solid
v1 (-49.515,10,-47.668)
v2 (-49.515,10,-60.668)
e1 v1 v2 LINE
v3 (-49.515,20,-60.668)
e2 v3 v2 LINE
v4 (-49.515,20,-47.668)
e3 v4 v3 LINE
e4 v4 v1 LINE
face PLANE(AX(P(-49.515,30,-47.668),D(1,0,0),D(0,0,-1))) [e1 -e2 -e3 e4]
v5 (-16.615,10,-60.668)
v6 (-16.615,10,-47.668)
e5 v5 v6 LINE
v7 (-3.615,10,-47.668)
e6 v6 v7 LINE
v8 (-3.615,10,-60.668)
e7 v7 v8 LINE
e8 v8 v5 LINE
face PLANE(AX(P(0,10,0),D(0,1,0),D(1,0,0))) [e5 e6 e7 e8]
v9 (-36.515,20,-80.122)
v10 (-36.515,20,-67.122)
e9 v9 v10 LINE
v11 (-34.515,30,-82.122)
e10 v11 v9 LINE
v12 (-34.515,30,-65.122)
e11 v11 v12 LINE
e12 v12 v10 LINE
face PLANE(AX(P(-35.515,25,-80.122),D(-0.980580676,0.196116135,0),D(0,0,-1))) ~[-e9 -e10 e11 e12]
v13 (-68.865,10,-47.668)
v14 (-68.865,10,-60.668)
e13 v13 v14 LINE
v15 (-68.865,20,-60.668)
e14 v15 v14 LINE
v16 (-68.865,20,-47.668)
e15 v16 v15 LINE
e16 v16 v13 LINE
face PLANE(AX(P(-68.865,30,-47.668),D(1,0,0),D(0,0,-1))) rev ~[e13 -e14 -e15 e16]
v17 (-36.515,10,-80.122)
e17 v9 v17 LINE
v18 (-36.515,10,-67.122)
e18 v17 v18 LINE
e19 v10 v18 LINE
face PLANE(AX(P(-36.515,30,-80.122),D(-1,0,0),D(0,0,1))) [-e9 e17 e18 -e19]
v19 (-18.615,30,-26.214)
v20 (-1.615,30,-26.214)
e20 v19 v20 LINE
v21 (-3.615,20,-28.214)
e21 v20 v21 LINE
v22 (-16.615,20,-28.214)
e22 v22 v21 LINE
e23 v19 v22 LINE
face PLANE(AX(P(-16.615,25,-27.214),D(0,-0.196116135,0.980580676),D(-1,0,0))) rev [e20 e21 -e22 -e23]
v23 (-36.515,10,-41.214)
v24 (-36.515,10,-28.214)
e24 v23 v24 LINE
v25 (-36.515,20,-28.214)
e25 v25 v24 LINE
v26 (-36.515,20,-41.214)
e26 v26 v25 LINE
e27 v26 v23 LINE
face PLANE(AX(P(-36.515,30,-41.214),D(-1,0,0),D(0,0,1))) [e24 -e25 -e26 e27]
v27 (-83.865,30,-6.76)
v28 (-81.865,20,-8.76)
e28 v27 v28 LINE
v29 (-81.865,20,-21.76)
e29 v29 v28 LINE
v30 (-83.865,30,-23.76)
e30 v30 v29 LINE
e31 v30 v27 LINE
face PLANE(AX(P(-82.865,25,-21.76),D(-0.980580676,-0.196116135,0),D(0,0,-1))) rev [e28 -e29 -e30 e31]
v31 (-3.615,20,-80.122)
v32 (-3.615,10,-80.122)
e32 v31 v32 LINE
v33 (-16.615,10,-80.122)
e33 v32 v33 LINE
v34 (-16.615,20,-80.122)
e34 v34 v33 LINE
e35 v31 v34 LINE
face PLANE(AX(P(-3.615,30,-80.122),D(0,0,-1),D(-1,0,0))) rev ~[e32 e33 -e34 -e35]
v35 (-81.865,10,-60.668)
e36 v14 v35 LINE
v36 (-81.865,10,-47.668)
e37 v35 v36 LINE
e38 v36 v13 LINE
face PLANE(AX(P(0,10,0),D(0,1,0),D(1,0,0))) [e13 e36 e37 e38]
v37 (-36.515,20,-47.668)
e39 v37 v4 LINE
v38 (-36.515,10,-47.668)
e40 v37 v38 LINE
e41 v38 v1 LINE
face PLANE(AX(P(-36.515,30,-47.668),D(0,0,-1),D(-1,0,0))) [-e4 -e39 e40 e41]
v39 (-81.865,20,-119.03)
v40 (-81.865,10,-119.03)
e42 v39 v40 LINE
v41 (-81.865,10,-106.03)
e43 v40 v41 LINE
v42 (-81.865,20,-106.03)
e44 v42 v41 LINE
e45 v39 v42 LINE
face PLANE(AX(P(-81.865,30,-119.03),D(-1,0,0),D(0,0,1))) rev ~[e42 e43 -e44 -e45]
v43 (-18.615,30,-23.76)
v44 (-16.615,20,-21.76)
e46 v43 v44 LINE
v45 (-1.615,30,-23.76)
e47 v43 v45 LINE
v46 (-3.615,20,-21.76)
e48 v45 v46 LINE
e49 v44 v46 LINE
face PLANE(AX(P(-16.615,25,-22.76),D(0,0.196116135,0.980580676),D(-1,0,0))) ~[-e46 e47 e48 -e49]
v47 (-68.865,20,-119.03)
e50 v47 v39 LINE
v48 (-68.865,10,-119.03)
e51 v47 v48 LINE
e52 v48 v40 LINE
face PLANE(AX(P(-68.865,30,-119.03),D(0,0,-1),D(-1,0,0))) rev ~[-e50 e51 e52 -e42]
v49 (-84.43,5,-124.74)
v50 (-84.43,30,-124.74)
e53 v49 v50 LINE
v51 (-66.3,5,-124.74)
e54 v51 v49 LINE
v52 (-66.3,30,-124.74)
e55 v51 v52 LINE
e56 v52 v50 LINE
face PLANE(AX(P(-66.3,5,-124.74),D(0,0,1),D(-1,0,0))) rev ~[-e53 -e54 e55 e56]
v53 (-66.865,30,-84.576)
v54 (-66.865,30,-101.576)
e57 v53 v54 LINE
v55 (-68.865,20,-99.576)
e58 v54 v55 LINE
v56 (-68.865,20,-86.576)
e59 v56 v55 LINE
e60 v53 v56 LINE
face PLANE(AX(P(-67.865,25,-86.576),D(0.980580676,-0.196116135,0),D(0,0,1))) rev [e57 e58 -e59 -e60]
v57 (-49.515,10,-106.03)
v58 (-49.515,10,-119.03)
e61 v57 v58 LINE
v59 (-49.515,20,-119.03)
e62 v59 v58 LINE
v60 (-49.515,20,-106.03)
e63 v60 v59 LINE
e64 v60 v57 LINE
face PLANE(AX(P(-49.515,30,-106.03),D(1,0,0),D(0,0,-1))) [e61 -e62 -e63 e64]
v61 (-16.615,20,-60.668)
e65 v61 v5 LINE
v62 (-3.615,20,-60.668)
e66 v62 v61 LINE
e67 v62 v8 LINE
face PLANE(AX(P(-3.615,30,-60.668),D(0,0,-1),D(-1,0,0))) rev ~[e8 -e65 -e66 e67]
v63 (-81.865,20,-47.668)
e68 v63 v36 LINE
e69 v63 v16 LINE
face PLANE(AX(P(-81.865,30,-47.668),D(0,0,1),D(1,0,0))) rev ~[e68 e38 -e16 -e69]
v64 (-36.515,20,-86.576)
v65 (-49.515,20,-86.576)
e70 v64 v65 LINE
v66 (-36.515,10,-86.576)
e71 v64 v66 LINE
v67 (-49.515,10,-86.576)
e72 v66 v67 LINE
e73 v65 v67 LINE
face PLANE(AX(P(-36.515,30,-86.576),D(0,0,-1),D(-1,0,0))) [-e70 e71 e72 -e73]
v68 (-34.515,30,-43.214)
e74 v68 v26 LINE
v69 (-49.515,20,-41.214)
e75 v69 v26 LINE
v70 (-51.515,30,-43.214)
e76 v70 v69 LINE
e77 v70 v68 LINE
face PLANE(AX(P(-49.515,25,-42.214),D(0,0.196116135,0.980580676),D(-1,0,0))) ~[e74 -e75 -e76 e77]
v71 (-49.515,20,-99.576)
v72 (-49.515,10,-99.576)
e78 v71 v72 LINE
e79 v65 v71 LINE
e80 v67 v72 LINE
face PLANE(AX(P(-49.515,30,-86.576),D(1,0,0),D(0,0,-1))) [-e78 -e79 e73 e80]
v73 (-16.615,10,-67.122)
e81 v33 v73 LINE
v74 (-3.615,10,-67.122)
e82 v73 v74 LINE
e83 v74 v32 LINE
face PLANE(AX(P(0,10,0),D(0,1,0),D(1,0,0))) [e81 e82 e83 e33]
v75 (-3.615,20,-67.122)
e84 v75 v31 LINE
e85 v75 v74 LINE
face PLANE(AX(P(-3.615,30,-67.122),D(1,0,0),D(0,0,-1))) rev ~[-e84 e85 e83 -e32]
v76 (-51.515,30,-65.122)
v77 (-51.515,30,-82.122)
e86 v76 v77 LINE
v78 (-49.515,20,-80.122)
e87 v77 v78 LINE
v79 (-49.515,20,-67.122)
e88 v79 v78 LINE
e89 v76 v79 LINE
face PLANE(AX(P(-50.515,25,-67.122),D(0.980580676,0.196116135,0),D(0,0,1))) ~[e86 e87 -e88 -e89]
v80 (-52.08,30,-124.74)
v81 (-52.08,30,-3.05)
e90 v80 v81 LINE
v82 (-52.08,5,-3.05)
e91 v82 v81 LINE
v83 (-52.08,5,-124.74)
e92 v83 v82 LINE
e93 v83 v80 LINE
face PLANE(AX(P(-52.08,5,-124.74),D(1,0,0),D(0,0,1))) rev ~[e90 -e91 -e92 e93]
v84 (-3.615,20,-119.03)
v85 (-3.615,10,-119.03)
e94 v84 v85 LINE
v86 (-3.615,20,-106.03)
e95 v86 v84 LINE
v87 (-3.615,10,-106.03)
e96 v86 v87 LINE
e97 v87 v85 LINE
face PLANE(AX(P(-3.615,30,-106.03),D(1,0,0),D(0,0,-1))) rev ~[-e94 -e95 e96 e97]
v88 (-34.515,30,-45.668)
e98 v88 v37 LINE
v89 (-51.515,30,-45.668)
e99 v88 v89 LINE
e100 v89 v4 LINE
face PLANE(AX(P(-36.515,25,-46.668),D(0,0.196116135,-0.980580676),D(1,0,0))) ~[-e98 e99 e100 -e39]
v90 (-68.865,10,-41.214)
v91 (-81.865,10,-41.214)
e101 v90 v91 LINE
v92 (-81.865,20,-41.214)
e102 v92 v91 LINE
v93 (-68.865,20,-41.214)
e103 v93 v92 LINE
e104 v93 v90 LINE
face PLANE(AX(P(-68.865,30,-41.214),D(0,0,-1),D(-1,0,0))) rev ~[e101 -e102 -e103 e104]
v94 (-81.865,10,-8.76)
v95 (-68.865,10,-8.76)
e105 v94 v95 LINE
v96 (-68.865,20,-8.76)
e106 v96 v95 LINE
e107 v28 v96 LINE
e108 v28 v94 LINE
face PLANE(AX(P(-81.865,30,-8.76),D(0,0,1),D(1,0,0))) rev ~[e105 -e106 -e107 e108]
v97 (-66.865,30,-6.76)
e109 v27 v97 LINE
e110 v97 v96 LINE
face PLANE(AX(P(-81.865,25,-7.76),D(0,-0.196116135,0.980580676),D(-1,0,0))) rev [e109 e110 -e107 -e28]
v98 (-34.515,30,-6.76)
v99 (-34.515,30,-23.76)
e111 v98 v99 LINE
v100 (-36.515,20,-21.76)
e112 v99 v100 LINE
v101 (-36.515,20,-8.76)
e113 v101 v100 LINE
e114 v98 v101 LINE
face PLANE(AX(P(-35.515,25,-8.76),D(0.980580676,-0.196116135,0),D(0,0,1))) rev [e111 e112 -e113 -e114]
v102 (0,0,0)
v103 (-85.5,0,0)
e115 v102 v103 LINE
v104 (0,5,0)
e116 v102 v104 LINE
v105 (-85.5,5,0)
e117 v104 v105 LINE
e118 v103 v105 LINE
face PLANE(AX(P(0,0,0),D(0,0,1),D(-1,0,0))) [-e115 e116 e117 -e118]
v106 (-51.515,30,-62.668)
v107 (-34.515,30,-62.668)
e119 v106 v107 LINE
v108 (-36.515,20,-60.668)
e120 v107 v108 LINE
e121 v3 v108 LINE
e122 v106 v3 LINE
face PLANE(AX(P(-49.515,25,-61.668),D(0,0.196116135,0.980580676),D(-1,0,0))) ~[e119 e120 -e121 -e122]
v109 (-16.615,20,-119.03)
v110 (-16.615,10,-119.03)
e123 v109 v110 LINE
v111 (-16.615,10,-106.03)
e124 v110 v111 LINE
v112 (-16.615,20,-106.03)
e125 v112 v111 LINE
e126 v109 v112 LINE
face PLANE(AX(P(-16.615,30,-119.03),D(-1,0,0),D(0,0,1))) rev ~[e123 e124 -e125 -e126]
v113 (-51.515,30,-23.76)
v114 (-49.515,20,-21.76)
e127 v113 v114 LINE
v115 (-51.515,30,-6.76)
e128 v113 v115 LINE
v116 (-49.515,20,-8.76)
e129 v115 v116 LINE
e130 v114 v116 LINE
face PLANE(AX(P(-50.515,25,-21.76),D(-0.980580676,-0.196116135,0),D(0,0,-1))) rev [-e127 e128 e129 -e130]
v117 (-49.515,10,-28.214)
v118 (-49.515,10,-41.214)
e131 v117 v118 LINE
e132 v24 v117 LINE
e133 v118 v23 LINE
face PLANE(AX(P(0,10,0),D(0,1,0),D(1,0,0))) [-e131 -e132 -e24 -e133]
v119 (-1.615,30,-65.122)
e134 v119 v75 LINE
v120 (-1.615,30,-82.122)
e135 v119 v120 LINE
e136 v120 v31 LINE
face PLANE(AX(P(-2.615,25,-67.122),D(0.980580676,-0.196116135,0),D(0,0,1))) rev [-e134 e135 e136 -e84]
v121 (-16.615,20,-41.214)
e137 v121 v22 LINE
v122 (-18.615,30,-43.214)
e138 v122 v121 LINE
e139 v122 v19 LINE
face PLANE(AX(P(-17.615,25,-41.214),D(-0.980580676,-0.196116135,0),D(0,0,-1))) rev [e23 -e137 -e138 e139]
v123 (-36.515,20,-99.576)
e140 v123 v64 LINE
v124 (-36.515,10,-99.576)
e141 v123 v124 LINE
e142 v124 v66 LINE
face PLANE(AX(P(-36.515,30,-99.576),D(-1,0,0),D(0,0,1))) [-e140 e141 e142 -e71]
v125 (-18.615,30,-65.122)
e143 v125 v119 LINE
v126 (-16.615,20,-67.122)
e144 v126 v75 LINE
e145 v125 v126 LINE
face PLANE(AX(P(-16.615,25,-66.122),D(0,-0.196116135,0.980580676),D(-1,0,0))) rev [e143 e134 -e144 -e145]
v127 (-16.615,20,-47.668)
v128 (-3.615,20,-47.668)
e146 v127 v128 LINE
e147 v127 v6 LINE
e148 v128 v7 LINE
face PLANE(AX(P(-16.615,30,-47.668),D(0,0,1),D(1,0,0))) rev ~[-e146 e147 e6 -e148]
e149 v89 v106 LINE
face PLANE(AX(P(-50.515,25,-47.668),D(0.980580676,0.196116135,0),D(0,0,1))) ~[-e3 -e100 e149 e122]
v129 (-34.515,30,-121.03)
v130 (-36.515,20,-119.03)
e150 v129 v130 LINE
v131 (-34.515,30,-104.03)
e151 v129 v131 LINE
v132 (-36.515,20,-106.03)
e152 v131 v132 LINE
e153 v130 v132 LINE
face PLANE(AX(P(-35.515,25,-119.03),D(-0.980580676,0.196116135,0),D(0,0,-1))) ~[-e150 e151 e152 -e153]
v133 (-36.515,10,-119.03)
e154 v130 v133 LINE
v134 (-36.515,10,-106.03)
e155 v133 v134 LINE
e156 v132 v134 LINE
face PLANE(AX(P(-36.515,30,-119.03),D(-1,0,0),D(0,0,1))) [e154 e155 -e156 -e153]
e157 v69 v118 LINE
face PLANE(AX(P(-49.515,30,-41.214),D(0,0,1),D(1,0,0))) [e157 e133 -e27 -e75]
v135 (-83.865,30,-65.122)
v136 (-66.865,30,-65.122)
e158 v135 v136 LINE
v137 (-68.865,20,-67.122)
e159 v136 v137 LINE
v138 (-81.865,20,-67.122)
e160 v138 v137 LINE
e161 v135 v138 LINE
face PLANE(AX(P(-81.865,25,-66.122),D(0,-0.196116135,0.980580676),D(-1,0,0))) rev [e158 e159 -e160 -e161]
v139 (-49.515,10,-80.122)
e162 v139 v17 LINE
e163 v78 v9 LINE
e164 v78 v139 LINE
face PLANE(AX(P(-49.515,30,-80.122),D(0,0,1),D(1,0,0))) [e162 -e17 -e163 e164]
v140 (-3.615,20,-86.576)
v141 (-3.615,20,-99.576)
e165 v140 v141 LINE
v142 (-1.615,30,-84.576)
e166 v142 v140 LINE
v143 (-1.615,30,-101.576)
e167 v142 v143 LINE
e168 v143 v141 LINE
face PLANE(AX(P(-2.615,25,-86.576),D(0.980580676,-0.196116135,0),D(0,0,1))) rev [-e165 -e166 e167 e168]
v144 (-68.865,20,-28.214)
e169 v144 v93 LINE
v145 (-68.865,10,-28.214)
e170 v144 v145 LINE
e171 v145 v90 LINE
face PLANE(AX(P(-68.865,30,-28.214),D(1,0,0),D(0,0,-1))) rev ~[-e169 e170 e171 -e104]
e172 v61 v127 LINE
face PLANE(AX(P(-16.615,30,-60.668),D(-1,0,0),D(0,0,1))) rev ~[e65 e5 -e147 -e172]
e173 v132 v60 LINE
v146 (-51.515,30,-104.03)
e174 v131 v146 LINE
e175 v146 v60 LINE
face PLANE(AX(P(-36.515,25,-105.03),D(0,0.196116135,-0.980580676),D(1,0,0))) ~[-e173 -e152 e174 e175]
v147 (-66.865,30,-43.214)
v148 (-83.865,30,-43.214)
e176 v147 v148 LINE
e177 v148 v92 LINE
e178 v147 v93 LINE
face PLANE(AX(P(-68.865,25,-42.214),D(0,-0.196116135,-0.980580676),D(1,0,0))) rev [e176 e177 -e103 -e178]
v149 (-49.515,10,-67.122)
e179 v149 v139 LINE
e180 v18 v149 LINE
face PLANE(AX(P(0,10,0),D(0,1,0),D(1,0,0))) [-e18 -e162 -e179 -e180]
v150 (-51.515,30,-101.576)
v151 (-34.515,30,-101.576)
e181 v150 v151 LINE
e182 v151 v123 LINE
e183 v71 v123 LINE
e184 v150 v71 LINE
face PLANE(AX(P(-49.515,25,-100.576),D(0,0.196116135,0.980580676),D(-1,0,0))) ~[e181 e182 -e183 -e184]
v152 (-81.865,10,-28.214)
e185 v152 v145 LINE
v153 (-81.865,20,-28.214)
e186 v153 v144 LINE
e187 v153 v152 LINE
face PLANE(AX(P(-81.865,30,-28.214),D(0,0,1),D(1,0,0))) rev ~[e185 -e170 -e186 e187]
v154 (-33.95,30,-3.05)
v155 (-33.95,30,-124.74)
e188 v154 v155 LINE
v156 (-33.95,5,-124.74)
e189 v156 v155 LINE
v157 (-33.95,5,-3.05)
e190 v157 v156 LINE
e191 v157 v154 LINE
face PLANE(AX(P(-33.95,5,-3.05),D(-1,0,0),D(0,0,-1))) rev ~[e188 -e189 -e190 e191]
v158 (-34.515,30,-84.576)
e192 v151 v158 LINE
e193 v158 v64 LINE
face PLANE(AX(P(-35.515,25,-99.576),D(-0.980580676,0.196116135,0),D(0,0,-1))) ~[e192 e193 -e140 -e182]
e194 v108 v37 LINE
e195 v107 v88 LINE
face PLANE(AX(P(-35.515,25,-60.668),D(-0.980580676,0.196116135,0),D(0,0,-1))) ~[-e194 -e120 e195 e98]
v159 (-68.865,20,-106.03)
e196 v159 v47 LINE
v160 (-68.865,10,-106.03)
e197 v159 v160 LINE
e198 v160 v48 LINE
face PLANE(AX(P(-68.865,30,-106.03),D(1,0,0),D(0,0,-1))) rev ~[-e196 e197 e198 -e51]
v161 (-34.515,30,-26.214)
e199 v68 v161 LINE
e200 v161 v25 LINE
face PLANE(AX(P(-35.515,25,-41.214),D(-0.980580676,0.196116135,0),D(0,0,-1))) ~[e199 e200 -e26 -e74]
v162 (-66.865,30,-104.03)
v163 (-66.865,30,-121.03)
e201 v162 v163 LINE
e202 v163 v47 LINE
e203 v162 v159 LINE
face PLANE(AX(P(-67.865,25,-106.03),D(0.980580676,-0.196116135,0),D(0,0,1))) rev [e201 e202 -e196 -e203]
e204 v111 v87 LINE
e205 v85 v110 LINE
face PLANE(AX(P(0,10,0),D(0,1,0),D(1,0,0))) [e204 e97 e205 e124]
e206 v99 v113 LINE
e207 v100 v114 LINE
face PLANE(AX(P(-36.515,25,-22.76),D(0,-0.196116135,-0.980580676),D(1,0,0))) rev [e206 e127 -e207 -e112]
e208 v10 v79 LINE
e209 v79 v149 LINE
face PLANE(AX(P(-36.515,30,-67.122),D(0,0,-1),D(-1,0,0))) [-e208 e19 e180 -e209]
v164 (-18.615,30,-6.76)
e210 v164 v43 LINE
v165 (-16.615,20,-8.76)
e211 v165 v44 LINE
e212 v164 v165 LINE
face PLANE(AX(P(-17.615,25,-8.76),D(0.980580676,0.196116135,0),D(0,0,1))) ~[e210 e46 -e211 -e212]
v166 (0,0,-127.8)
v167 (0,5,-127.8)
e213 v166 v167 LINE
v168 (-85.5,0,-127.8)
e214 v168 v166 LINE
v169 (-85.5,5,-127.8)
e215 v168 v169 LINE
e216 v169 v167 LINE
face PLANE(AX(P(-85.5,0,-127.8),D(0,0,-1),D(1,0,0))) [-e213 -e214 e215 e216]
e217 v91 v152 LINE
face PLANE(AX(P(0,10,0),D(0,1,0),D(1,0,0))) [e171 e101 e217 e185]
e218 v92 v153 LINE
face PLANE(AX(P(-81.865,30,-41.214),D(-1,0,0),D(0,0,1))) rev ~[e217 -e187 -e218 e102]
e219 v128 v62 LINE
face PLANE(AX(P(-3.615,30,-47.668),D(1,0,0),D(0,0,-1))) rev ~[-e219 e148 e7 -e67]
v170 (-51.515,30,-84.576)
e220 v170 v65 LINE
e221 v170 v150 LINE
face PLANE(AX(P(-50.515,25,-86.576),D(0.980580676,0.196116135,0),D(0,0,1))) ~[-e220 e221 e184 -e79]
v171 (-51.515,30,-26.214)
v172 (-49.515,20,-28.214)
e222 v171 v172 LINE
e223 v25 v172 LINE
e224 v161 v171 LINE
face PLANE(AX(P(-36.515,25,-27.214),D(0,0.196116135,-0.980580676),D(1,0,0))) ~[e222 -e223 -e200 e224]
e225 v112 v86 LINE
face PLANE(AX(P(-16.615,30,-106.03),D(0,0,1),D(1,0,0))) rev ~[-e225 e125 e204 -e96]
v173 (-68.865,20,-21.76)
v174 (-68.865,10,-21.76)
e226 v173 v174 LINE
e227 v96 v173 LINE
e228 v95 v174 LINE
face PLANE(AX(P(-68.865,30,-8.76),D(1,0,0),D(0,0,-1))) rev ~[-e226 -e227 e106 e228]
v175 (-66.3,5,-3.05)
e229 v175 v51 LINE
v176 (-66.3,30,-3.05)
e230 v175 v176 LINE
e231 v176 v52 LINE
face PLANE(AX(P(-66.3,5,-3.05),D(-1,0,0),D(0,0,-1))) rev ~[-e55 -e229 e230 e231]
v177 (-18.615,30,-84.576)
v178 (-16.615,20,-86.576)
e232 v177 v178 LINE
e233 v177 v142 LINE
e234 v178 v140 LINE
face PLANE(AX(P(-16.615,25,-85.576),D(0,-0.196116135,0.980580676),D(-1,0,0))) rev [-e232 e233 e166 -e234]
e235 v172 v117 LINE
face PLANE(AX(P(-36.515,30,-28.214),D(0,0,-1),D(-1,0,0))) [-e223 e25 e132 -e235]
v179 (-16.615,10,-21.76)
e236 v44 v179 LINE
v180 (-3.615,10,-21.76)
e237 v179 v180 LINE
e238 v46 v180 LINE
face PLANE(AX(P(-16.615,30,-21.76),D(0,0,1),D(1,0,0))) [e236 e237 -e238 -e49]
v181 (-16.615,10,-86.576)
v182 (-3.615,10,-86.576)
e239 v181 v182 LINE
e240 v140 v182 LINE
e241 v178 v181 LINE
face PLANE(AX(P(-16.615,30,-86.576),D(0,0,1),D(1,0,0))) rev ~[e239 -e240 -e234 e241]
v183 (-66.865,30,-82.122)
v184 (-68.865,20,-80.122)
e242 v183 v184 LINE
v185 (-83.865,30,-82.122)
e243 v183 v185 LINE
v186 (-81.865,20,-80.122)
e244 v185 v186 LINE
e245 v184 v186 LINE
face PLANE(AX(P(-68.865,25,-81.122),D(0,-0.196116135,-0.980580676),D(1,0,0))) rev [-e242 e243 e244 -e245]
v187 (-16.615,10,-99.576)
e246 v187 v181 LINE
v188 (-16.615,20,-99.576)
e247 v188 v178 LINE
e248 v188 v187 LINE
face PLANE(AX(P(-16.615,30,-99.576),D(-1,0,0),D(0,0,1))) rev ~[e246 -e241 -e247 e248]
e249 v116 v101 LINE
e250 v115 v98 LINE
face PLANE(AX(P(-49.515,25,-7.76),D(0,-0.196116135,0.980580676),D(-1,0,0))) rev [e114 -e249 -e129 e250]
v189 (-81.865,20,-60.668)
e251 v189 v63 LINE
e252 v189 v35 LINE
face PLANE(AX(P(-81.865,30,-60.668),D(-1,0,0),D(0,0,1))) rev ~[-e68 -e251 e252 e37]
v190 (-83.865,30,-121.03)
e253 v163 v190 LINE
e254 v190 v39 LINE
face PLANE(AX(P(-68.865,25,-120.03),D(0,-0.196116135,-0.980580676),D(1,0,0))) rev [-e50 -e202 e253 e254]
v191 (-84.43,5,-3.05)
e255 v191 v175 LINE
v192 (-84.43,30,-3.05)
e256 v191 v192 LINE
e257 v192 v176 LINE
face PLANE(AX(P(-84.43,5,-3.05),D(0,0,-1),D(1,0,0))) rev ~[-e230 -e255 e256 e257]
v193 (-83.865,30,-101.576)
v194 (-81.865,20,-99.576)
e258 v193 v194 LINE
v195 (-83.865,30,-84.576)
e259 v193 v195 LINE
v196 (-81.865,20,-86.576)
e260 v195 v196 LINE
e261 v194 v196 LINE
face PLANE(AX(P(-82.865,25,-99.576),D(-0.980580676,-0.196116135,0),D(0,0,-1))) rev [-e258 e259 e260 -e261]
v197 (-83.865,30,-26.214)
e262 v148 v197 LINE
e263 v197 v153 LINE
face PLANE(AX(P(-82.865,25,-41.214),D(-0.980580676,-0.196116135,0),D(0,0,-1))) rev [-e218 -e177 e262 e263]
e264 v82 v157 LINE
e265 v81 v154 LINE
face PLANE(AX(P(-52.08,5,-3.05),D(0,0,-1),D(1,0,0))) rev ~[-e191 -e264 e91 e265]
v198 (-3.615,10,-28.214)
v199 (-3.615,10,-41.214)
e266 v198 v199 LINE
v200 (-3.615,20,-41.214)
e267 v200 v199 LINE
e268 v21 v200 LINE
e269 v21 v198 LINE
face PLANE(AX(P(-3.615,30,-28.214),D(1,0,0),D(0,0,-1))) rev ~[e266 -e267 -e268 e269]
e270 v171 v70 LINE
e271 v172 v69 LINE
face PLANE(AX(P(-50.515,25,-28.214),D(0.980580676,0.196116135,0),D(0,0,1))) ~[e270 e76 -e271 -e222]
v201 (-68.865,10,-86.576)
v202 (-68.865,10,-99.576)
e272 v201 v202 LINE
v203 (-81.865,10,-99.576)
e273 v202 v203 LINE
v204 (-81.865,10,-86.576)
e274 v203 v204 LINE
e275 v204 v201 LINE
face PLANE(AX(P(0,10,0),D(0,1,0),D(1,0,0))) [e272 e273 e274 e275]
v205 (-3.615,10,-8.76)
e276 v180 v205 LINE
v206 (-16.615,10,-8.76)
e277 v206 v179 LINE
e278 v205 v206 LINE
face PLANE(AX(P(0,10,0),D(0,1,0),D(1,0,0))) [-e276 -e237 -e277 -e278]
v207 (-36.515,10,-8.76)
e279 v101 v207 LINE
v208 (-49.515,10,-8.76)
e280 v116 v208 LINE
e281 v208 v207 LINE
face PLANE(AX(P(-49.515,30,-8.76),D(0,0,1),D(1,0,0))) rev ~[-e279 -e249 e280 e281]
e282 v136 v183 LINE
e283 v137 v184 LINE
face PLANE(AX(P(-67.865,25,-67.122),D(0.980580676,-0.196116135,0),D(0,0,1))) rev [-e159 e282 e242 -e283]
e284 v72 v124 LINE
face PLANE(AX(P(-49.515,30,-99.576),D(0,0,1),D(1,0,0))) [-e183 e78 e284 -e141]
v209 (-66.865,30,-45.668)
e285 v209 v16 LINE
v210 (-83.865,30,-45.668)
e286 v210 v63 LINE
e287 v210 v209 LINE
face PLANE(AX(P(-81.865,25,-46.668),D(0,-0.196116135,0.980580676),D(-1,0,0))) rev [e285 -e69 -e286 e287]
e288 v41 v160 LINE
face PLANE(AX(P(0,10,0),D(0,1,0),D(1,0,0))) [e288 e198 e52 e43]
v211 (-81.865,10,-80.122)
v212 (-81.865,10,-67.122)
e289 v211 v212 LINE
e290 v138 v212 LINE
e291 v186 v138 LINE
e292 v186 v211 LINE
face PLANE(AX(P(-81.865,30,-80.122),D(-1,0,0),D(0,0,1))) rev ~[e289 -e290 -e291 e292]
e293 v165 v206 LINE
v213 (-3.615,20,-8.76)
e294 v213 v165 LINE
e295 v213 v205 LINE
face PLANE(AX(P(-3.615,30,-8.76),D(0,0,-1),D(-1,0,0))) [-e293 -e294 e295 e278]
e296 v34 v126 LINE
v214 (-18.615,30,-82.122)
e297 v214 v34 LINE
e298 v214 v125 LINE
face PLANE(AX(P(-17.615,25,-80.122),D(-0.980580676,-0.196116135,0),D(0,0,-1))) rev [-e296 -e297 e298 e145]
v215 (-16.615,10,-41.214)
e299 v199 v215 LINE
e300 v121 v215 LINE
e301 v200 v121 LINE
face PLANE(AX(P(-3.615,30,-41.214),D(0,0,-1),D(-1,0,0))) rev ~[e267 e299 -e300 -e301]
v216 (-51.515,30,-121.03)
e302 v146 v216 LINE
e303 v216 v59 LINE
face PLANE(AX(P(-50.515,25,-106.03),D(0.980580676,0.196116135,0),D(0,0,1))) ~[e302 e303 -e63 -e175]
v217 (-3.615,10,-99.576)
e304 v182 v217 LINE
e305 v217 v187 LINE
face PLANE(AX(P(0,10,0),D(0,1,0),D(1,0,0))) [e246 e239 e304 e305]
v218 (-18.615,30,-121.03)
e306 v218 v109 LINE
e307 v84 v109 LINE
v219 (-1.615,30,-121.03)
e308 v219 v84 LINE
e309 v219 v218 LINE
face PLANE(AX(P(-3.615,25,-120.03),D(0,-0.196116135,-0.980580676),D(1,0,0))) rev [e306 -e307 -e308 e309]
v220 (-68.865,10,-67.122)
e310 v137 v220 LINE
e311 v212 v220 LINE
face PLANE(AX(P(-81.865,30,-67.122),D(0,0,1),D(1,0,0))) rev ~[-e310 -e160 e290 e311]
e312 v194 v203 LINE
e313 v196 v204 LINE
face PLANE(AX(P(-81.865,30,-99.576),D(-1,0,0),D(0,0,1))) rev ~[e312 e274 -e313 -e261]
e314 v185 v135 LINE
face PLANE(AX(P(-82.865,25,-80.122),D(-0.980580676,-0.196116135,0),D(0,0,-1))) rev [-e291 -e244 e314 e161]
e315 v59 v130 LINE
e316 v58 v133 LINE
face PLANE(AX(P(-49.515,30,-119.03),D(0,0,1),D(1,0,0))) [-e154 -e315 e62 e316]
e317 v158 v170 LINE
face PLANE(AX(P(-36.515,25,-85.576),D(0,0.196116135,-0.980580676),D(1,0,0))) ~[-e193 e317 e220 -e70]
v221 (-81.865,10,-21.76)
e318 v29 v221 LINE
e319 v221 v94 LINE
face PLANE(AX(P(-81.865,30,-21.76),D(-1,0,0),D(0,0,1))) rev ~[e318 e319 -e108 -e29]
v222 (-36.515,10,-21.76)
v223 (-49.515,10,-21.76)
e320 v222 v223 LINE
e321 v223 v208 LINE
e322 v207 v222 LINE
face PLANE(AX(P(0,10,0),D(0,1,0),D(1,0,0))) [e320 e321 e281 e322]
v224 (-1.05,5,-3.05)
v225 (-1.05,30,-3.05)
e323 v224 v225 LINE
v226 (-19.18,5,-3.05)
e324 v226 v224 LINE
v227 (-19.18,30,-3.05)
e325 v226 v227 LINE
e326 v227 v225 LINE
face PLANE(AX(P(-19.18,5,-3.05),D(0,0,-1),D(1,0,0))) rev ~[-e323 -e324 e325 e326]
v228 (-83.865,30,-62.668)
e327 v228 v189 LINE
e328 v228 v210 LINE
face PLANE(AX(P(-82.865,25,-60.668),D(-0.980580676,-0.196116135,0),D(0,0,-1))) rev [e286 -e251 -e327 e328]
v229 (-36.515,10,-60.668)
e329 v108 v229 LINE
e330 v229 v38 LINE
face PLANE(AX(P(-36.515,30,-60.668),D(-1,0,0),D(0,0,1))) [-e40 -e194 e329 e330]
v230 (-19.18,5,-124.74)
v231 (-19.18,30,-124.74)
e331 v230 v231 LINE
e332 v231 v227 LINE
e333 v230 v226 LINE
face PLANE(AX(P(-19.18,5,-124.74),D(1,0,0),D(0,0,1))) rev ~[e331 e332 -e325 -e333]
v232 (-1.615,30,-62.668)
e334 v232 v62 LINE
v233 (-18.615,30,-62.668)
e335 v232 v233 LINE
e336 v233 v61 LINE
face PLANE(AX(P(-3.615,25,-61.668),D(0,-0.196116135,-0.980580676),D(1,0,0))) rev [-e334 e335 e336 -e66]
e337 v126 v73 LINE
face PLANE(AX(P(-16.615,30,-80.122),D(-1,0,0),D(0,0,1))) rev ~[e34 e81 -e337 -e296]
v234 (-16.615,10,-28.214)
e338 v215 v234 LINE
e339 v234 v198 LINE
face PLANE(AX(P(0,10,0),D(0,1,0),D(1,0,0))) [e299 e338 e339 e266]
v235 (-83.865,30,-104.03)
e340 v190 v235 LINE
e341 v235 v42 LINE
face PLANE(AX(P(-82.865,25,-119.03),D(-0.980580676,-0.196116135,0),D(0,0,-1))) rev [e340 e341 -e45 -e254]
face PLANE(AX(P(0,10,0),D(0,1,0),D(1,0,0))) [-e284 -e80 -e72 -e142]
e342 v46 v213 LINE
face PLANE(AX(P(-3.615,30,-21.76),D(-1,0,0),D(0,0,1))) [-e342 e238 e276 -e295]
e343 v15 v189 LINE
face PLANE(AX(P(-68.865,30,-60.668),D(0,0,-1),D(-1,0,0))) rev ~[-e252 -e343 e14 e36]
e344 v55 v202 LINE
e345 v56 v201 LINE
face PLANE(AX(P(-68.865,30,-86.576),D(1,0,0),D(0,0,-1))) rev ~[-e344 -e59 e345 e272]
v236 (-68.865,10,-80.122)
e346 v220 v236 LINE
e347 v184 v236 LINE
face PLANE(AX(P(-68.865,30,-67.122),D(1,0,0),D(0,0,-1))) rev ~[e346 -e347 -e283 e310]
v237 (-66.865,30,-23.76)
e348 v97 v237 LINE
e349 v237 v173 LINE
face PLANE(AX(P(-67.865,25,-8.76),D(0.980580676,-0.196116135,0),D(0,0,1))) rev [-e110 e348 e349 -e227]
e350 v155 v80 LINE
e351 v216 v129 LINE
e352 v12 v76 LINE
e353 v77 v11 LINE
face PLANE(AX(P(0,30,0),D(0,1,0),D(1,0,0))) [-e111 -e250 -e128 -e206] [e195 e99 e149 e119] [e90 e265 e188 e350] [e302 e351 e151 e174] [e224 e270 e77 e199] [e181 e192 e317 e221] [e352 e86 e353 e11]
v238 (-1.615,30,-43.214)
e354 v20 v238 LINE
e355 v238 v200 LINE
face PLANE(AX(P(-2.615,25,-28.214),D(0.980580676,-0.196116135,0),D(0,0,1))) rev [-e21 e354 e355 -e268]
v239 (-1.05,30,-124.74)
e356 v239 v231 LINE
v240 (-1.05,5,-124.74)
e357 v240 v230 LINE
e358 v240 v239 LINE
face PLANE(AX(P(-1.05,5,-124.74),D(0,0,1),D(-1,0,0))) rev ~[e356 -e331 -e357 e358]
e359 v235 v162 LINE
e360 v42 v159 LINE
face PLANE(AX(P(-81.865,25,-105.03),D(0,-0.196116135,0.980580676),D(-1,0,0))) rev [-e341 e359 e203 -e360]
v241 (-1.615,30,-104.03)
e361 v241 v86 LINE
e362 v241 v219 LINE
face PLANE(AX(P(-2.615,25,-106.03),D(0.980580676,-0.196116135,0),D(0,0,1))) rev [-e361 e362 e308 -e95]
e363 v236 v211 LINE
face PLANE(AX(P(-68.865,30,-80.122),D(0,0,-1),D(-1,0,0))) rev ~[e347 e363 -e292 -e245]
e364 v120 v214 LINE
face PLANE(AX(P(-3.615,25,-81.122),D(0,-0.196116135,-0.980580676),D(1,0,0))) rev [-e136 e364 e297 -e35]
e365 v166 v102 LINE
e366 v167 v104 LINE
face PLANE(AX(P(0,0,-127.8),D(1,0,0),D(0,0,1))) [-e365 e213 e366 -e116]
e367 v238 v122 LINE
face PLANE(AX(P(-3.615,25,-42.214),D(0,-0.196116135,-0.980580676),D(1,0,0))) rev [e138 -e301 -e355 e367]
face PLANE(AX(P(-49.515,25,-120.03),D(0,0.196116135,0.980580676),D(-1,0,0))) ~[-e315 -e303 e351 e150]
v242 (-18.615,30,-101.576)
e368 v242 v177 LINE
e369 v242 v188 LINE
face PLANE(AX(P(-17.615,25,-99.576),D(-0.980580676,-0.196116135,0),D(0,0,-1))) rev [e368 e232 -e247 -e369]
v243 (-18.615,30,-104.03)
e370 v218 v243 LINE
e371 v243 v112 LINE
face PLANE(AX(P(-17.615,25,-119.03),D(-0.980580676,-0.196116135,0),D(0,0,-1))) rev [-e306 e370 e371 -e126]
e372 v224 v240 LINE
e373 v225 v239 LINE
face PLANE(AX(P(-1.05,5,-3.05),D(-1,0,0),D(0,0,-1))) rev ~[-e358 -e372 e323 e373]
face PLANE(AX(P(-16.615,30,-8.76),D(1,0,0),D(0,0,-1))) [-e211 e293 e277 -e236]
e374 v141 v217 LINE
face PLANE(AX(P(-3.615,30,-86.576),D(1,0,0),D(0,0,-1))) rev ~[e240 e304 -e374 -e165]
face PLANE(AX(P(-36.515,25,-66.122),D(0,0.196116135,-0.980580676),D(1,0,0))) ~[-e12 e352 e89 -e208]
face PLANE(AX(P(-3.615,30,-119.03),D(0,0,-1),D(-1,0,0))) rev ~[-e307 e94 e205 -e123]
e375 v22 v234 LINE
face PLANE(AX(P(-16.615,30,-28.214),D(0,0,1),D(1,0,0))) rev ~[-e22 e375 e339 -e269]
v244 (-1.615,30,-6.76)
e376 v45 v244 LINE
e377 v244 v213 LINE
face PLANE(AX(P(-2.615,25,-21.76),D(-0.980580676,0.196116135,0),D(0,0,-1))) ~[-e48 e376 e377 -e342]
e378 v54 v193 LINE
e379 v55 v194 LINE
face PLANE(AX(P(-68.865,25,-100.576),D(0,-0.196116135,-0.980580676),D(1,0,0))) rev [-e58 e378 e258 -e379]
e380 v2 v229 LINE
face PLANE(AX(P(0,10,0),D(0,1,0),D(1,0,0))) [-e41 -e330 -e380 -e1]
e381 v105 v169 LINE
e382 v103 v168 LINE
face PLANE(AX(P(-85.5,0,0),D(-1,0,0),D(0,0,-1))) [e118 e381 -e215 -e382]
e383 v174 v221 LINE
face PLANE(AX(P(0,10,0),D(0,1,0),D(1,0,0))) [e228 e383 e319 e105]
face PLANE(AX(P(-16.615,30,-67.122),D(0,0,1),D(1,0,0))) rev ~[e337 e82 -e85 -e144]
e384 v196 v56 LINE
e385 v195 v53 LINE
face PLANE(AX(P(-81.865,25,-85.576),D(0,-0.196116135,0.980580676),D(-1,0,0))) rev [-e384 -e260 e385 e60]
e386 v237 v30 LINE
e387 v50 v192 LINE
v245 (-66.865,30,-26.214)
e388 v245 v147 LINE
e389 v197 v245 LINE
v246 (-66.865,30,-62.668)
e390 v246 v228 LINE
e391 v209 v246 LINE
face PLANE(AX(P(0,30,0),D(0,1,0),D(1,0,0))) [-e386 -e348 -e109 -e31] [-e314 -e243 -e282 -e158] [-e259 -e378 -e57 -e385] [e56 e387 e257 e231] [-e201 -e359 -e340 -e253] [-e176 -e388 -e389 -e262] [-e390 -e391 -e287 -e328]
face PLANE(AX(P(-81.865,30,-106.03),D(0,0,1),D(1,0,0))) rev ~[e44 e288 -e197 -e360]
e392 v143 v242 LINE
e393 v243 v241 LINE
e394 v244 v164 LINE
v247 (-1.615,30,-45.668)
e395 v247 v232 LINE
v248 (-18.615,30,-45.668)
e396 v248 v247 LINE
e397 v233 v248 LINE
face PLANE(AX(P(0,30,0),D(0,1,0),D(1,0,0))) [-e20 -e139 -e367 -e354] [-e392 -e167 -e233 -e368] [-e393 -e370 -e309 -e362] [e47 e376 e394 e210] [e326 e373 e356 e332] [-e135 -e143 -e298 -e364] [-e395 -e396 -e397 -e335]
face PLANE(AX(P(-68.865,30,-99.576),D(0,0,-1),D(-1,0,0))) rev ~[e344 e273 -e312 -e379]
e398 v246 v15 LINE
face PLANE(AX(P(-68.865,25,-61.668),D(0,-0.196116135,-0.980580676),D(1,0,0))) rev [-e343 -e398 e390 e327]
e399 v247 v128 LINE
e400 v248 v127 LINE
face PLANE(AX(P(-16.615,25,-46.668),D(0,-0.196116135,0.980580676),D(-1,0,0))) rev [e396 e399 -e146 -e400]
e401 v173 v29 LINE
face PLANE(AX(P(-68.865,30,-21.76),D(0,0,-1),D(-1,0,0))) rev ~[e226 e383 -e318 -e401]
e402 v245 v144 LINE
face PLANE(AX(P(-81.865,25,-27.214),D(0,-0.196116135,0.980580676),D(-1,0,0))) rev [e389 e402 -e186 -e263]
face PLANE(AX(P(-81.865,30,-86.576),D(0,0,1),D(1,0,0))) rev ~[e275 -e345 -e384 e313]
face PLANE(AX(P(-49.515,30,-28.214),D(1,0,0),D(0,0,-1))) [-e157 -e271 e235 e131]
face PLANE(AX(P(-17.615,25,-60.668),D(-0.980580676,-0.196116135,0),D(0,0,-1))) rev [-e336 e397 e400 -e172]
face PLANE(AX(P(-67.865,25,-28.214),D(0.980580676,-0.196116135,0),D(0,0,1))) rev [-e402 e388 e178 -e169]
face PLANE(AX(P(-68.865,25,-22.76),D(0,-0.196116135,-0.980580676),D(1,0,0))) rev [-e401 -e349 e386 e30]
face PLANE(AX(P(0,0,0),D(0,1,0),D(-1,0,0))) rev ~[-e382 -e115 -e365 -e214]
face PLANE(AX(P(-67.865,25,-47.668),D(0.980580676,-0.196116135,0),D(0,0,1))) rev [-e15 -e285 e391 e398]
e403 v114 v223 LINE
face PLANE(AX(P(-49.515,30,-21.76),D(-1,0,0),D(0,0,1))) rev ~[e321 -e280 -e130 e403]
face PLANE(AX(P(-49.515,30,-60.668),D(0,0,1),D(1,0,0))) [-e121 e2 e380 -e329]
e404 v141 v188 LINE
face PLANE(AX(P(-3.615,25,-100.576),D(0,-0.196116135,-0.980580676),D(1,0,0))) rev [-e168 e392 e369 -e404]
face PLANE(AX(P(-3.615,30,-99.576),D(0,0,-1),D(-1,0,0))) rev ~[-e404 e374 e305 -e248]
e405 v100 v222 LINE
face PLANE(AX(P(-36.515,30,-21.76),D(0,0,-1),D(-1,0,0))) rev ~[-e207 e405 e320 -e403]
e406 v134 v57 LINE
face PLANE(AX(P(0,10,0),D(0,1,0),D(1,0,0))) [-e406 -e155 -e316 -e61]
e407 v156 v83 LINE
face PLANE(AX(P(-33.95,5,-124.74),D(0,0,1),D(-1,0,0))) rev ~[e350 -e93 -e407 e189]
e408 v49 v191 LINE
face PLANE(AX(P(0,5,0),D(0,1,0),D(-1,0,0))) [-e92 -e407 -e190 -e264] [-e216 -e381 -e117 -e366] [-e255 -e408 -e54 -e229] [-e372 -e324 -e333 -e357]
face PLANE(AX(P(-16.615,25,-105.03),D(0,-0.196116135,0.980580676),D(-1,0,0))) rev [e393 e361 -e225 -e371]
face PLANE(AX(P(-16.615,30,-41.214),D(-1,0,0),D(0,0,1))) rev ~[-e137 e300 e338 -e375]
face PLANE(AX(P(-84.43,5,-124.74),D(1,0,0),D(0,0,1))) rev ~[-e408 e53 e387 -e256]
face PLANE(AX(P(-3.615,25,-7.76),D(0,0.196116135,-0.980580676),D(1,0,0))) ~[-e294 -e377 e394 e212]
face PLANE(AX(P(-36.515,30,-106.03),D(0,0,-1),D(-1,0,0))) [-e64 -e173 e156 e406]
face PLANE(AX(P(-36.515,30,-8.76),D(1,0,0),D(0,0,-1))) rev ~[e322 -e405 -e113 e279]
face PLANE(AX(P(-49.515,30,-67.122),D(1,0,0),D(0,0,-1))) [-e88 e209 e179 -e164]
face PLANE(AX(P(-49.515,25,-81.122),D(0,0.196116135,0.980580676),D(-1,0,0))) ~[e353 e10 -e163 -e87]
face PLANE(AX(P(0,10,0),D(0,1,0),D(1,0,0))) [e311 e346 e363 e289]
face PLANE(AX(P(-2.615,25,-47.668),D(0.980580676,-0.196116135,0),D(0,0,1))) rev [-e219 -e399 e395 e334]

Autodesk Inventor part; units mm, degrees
ref_plane "YZ Plane" through (0, 0, 0) normal (1, 0, 0) x (0, 1, 0)
ref_plane "XZ Plane" through (0, 0, 0) normal (0, 1, 0) x (-1, 0, 0)
ref_plane "XY Plane" through (0, 0, 0) normal (0, 0, 1) x (1, 0, 0)
sketch "Sketch1" plane through (0, 0, 0) normal (0, 1, 0) x (-1, 0, 0)
  line L0 (0, 0) -> (85.5, 0)
  line L1 (85.5, 0) -> (85.5, -127.8)
  line L2 (85.5, -127.8) -> (0, -127.8)
  line L3 (0, -127.8) -> (0, 0)
  dimension "d0" = 127.8
  dimension "d1" = 85.5
extrude "Extrusion1" add sketch "Sketch1" along normal blind 5
sketch "Sketch2" plane through (0, 5, 0) normal (0, 1, 0) x (1, 0, 0)
  line L0 (-84.43, 3.05) -> (-66.3, 3.05)
  line L1 (-66.3, 3.05) -> (-66.3, 124.74)
  line L2 (-66.3, 124.74) -> (-84.43, 124.74)
  line L3 (-84.43, 124.74) -> (-84.43, 3.05)
  line L4 (-52.08, 3.05) -> (-33.95, 3.05)
  line L5 (-33.95, 3.05) -> (-33.95, 124.74)
  line L6 (-33.95, 124.74) -> (-52.08, 124.74)
  line L7 (-52.08, 124.74) -> (-52.08, 3.05)
  line L8 (-19.18, 3.05) -> (-1.05, 3.05)
  line L9 (-1.05, 3.05) -> (-1.05, 124.74)
  line L10 (-1.05, 124.74) -> (-19.18, 124.74)
  line L11 (-19.18, 124.74) -> (-19.18, 3.05)
  line L12 (0, 0) -> (0, 127.8) projected
  line L13 (-85.5, 0) -> (0, 0) projected
  point P0 (-10.115, 124.74)
  point P1 (-10.115, 3.05)
  dimension "d4" = 18.13
  dimension "d5" = 121.69
  dimension "d6" = 1.05
  dimension "d7" = 3.05
  dimension "d8" = 14.77
  dimension "d9" = 18.13
  dimension "d10" = 14.22
  dimension "d11" = 18.13
extrude "Extrusion2" add sketch "Sketch2" along normal blind 25
sketch "Sketch3" plane through (0, 30, 0) normal (0, 1, 0) x (1, 0, 0)
  line L0 (-19.18, 124.74) -> (-19.18, 3.05) projected
  line L1 (-1.05, 3.05) -> (-1.05, 124.74) projected
  line L2 (-19.18, 3.05) -> (-1.05, 3.05) projected
  line L3 (-16.615, 28.214) -> (-3.615, 28.214)
  line L4 (-3.615, 28.214) -> (-3.615, 41.214)
  line L5 (-3.615, 41.214) -> (-16.615, 41.214)
  line L6 (-16.615, 41.214) -> (-16.615, 28.214)
  line L7 (-16.615, 47.668) -> (-3.615, 47.668)
  line L8 (-3.615, 47.668) -> (-3.615, 60.668)
  line L9 (-3.615, 60.668) -> (-16.615, 60.668)
  line L10 (-16.615, 60.668) -> (-16.615, 47.668)
  line L11 (-16.615, 67.122) -> (-3.615, 67.122)
  line L12 (-3.615, 67.122) -> (-3.615, 80.122)
  line L13 (-3.615, 80.122) -> (-16.615, 80.122)
  line L14 (-16.615, 80.122) -> (-16.615, 67.122)
  line L15 (-16.615, 86.576) -> (-3.615, 86.576)
  line L16 (-3.615, 86.576) -> (-3.615, 99.576)
  line L17 (-3.615, 99.576) -> (-16.615, 99.576)
  line L18 (-16.615, 99.576) -> (-16.615, 86.576)
  line L19 (-16.615, 106.03) -> (-3.615, 106.03)
  line L20 (-3.615, 106.03) -> (-3.615, 119.03)
  line L21 (-3.615, 119.03) -> (-16.615, 119.03)
  line L22 (-16.615, 119.03) -> (-16.615, 106.03)
  line L23 (-1.05, 124.74) -> (-19.18, 124.74) projected
  line L24 (-52.08, 124.74) -> (-52.08, 3.05) projected
  line L25 (-33.95, 3.05) -> (-33.95, 124.74) projected
  line L26 (-52.08, 3.05) -> (-33.95, 3.05) projected
  line L27 (-84.43, 124.74) -> (-84.43, 3.05) projected
  line L28 (-66.3, 3.05) -> (-66.3, 124.74) projected
  line L29 (-84.43, 3.05) -> (-66.3, 3.05) projected
  line L30 (-16.615, 8.76) -> (-3.615, 8.76)
  line L31 (-3.615, 8.76) -> (-3.615, 21.76)
  line L32 (-3.615, 21.76) -> (-16.615, 21.76)
  line L33 (-16.615, 21.76) -> (-16.615, 8.76)
  line L34 (-33.95, 124.74) -> (-52.08, 124.74) projected
  line L35 (-49.515, 8.76) -> (-36.515, 8.76)
  line L36 (-36.515, 8.76) -> (-36.515, 21.76)
  line L37 (-36.515, 21.76) -> (-49.515, 21.76)
  line L38 (-49.515, 21.76) -> (-49.515, 8.76)
  line L39 (-49.515, 28.214) -> (-36.515, 28.214)
  line L40 (-36.515, 28.214) -> (-36.515, 41.214)
  line L41 (-36.515, 41.214) -> (-49.515, 41.214)
  line L42 (-49.515, 41.214) -> (-49.515, 28.214)
  line L43 (-49.515, 47.668) -> (-36.515, 47.668)
  line L44 (-36.515, 47.668) -> (-36.515, 60.668)
  line L45 (-36.515, 60.668) -> (-49.515, 60.668)
  line L46 (-49.515, 60.668) -> (-49.515, 47.668)
  line L47 (-49.515, 67.122) -> (-36.515, 67.122)
  line L48 (-36.515, 67.122) -> (-36.515, 80.122)
  line L49 (-36.515, 80.122) -> (-49.515, 80.122)
  line L50 (-49.515, 80.122) -> (-49.515, 67.122)
  line L51 (-49.515, 86.576) -> (-36.515, 86.576)
  line L52 (-36.515, 86.576) -> (-36.515, 99.576)
  line L53 (-36.515, 99.576) -> (-49.515, 99.576)
  line L54 (-49.515, 99.576) -> (-49.515, 86.576)
  line L55 (-49.515, 106.03) -> (-36.515, 106.03)
  line L56 (-36.515, 106.03) -> (-36.515, 119.03)
  line L57 (-36.515, 119.03) -> (-49.515, 119.03)
  line L58 (-49.515, 119.03) -> (-49.515, 106.03)
  line L59 (-81.865, 8.76) -> (-68.865, 8.76)
  line L60 (-68.865, 8.76) -> (-68.865, 21.76)
  line L61 (-68.865, 21.76) -> (-81.865, 21.76)
  line L62 (-81.865, 21.76) -> (-81.865, 8.76)
  line L63 (-81.865, 28.214) -> (-68.865, 28.214)
  line L64 (-68.865, 28.214) -> (-68.865, 41.214)
  line L65 (-68.865, 41.214) -> (-81.865, 41.214)
  line L66 (-81.865, 41.214) -> (-81.865, 28.214)
  line L67 (-81.865, 47.668) -> (-68.865, 47.668)
  line L68 (-68.865, 47.668) -> (-68.865, 60.668)
  line L69 (-68.865, 60.668) -> (-81.865, 60.668)
  line L70 (-81.865, 60.668) -> (-81.865, 47.668)
  line L71 (-81.865, 67.122) -> (-68.865, 67.122)
  line L72 (-68.865, 67.122) -> (-68.865, 80.122)
  line L73 (-68.865, 80.122) -> (-81.865, 80.122)
  line L74 (-81.865, 80.122) -> (-81.865, 67.122)
  line L75 (-81.865, 86.576) -> (-68.865, 86.576)
  line L76 (-68.865, 86.576) -> (-68.865, 99.576)
  line L77 (-68.865, 99.576) -> (-81.865, 99.576)
  line L78 (-81.865, 99.576) -> (-81.865, 86.576)
  line L79 (-81.865, 106.03) -> (-68.865, 106.03)
  line L80 (-68.865, 106.03) -> (-68.865, 119.03)
  line L81 (-68.865, 119.03) -> (-81.865, 119.03)
  line L82 (-81.865, 119.03) -> (-81.865, 106.03)
  line L83 (-66.3, 124.74) -> (-84.43, 124.74) projected
  point P0 (0, 0)
  point P1 (-16.615, 13.26)
  point P2 (-3.615, 13.26)
  point P3 (-10.115, 60.668)
  point P4 (-10.115, 47.668)
  point P5 (-3.615, 54.168)
  point P6 (-16.615, 54.168)
  point P7 (-16.615, 73.622)
  point P8 (-3.615, 93.076)
  point P9 (-16.615, 93.076)
  point P10 (-3.615, 112.53)
  point P11 (-16.615, 112.53)
  point P12 (-3.615, 34.714)
  point P13 (-1.05, 63.895)
  point P14 (-10.115, 80.122)
  point P15 (-10.115, 41.214)
  point P16 (-10.115, 28.214)
  point P17 (-43.015, 3.05)
  point P18 (-75.365, 3.05)
  point P19 (-10.115, 8.76)
  point P20 (-10.115, 3.05)
  point P21 (-43.015, 124.74)
  point P22 (-43.015, 8.76)
  point P23 (-49.515, 15.26)
  point P24 (-75.365, 21.76)
  point P25 (-75.365, 67.122)
  point P26 (-75.365, 60.668)
  point P27 (-75.365, 106.03)
  point P28 (-75.365, 99.576)
  point P29 (-75.365, 124.74)
  point P30 (-68.865, 15.26)
  dimension "d19" = 13
  dimension "d20" = 13
  dimension "d21" = 13
  dimension "d22" = 13
  dimension "d23" = 13
  dimension "d24" = 13
  dimension "d25" = 13
  dimension "d26" = 13
  dimension "d27" = 13
  dimension "d28" = 13
  dimension "d29" = 5.71
  dimension "d33" = 2.565
  dimension "d34" = 2.565
  dimension "d35" = 2.565
  dimension "d36" = 2.565
  dimension "d37" = 2.565
  dimension "d38" = 2.565
  dimension "d39" = 2.565
  dimension "d40" = 121.69
  dimension "d41" = 6.454
  dimension "d42" = 6.454
  dimension "d43" = 6.454
  dimension "d44" = 6.454
  dimension "d67" = 6.454
  dimension "d68" = 5.71
  dimension "d78" = 13
  dimension "d79" = 13
  dimension "d80" = 5.71
  dimension "d81" = 2.565
  dimension "d82" = 2.565
  dimension "d83" = 6.454
  dimension "d84" = 6.454
  dimension "d85" = 6.454
  dimension "d86" = 6.454
  dimension "d87" = 6.454
  dimension "d88" = 13
  dimension "d89" = 5.71
  dimension "d90" = 6.454
  dimension "d91" = 6.454
  dimension "d92" = 6.454
  dimension "d93" = 6.454
  dimension "d94" = 6.454
  dimension "d95" = 5.71
  dimension "d96" = 2.565
extrude "Extrusion3" cut sketch "Sketch3" against normal blind 20 contours L6 L5 L4 L3 | L10 L9 L8 L7 | L14 L13 L12 L11 | L18 L17 L16 L15 | L22 L21 L20 L19
sketch "Sketch4" plane through (0, 30, 0) normal (0, 1, 0) x (1, 0, 0)
  line L0 (-16.615, 21.76) -> (-3.615, 21.76)
  line L1 (-3.615, 21.76) -> (-3.615, 8.76)
  line L2 (-3.615, 8.76) -> (-16.615, 8.76)
  line L3 (-16.615, 8.76) -> (-16.615, 21.76)
  line L4 (-19.18, 124.74) -> (-19.18, 3.05) projected
  line L5 (-1.05, 3.05) -> (-1.05, 124.74) projected
  line L6 (-19.18, 3.05) -> (-1.05, 3.05) projected
  point P0 (0, 0)
  point P1 (-16.615, 15.26)
  point P2 (-3.615, 15.26)
  point P3 (-10.115, 3.05)
  point P4 (-10.115, 8.76)
  dimension "d56" = 13
  dimension "d57" = 13
  dimension "d58" = 2.565
  dimension "d59" = 2.565
  dimension "d60" = 5.71
extrude "Extrusion4" cut sketch "Sketch4" against normal blind 20
sketch "Sketch5" plane through (0, 30, 0) normal (0, 1, 0) x (1, 0, 0)
  line L0 (-18.61, 6.76) -> (-1.61, 6.76)
  line L1 (-1.61, 6.76) -> (-1.61, 23.76)
  line L2 (-1.61, 23.76) -> (-18.61, 23.76)
  line L3 (-18.61, 23.76) -> (-18.61, 6.76)
  line L4 (-19.18, 124.74) -> (-19.18, 3.05) projected
  line L5 (-19.18, 3.05) -> (-1.05, 3.05) projected
  point P0 (0, 0)
  point P1 (-10.115, 3.05)
  dimension "d63" = 17
  dimension "d64" = 17
  dimension "d65" = 0.57
  dimension "d66" = 3.71
chamfer "Chamfer6" distance 2 distance2 10 24 edges at (-10.115, 30, -8.76) (-16.615, 30, -15.26) (-3.615, 30, -15.26) (-10.115, 30, -21.76) (-16.615, 30, -34.714) (-10.115, 30, -28.214) (-10.115, 30, -41.214) (-3.615, 30, -34.714) (-3.615, 30, -54.168) (-10.115, 30, -47.668) (-16.615, 30, -54.168) (-10.115, 30, -60.668) (-16.615, 30, -73.622) (-10.115, 30, -67.122) (-3.615, 30, -73.622) (-10.115, 30, -80.122) (-10.115, 30, -86.576) (-16.615, 30, -93.076) (-3.615, 30, -93.076) (-10.115, 30, -99.576) (-10.115, 30, -106.03) (-16.615, 30, -112.53) (-10.115, 30, -119.03) (-3.615, 30, -112.53) measured on face at (-1.905, 30, -56.3347)
sketch "Sketch6" plane through (0, 30, 0) normal (0, 1, 0) x (1, 0, 0)
  line L0 (-49.515, 8.76) -> (-36.515, 8.76)
  line L1 (-36.515, 8.76) -> (-36.515, 21.76)
  line L2 (-36.515, 21.76) -> (-49.515, 21.76)
  line L3 (-49.515, 21.76) -> (-49.515, 8.76)
  line L4 (-52.08, 124.74) -> (-52.08, 3.05) projected
  line L5 (-52.08, 3.05) -> (-33.95, 3.05) projected
  line L6 (-33.95, 3.05) -> (-33.95, 124.74) projected
  line L7 (-36.515, 28.214) -> (-49.515, 28.214)
  line L8 (-49.515, 28.214) -> (-49.515, 41.214)
  line L9 (-49.515, 41.214) -> (-36.515, 41.214)
  line L10 (-36.515, 41.214) -> (-36.515, 28.214)
  line L11 (-36.515, 47.668) -> (-49.515, 47.668)
  line L12 (-49.515, 47.668) -> (-49.515, 60.668)
  line L13 (-49.515, 60.668) -> (-36.515, 60.668)
  line L14 (-36.515, 60.668) -> (-36.515, 47.668)
  line L15 (-36.515, 67.122) -> (-49.515, 67.122)
  line L16 (-49.515, 67.122) -> (-49.515, 80.122)
  line L17 (-49.515, 80.122) -> (-36.515, 80.122)
  line L18 (-36.515, 80.122) -> (-36.515, 67.122)
  line L19 (-36.515, 86.576) -> (-49.515, 86.576)
  line L20 (-49.515, 86.576) -> (-49.515, 99.576)
  line L21 (-49.515, 99.576) -> (-36.515, 99.576)
  line L22 (-36.515, 99.576) -> (-36.515, 86.576)
  line L23 (-36.515, 106.03) -> (-49.515, 106.03)
  line L24 (-49.515, 106.03) -> (-49.515, 119.03)
  line L25 (-49.515, 119.03) -> (-36.515, 119.03)
  line L26 (-36.515, 119.03) -> (-36.515, 106.03)
  line L27 (-33.95, 124.74) -> (-52.08, 124.74) projected
  line L28 (-3.615, 28.214) -> (-16.615, 28.214) projected
  line L29 (-16.615, 21.76) -> (-3.615, 21.76) projected
  point P0 (0, 0)
  point P1 (-49.515, 15.26)
  point P2 (-43.015, 3.05)
  point P3 (-43.015, 8.76)
  point P4 (-43.015, 119.03)
  dimension "d115" = 13
  dimension "d116" = 13
  dimension "d117" = 2.565
  dimension "d118" = 5.71
  dimension "d119" = 2.565
  dimension "d120" = 13
  dimension "d121" = 13
  dimension "d122" = 13
  dimension "d123" = 13
  dimension "d124" = 13
  dimension "d125" = 13
  dimension "d126" = 13
  dimension "d127" = 5.71
  dimension "d128" = 6.454
  dimension "d129" = 6.454
  dimension "d130" = 6.454
  dimension "d131" = 6.454
  dimension "d132" = 6.454
  dimension "d133" = 6.454
extrude "Extrusion5" cut sketch "Sketch6" against normal blind 20 contours L3 L2 L1 L0 | L7 L8 L9 L10 | L11 L12 L13 L14 | L15 L16 L17 L18 | L19 L20 L21 L22 | L23 L24 L25 L26
chamfer "Chamfer7" distance 2 distance2 10 24 edges at (-43.015, 30, -8.76) (-49.515, 30, -15.26) (-43.015, 30, -21.76) (-36.515, 30, -15.26) (-43.015, 30, -28.214) (-49.515, 30, -34.714) (-43.015, 30, -41.214) (-36.515, 30, -34.714) (-43.015, 30, -47.668) (-49.515, 30, -54.168) (-43.015, 30, -60.668) (-36.515, 30, -54.168) (-43.015, 30, -67.122) (-49.515, 30, -73.622) (-43.015, 30, -80.122) (-36.515, 30, -73.622) (-43.015, 30, -86.576) (-49.515, 30, -93.076) (-43.015, 30, -99.576) (-36.515, 30, -93.076) (-43.015, 30, -106.03) (-49.515, 30, -112.53) (-43.015, 30, -119.03) (-36.515, 30, -112.53) measured on face at (-51.225, 30, -49.85)
sketch "Sketch7" plane through (0, 30, 0) normal (0, 1, 0) x (1, 0, 0)
  line L0 (-81.865, 8.76) -> (-68.865, 8.76)
  line L1 (-68.865, 8.76) -> (-68.865, 21.76)
  line L2 (-68.865, 21.76) -> (-81.865, 21.76)
  line L3 (-81.865, 21.76) -> (-81.865, 8.76)
  line L4 (-84.43, 124.74) -> (-84.43, 3.05) projected
  line L5 (-66.3, 3.05) -> (-66.3, 124.74) projected
  line L6 (-84.43, 3.05) -> (-66.3, 3.05) projected
  line L7 (-81.865, 28.214) -> (-68.865, 28.214)
  line L8 (-68.865, 28.214) -> (-68.865, 41.214)
  line L9 (-68.865, 41.214) -> (-81.865, 41.214)
  line L10 (-81.865, 41.214) -> (-81.865, 28.214)
  line L11 (-81.865, 47.668) -> (-68.865, 47.668)
  line L12 (-68.865, 47.668) -> (-68.865, 60.668)
  line L13 (-68.865, 60.668) -> (-81.865, 60.668)
  line L14 (-81.865, 60.668) -> (-81.865, 47.668)
  line L15 (-81.865, 67.122) -> (-68.865, 67.122)
  line L16 (-68.865, 67.122) -> (-68.865, 80.122)
  line L17 (-68.865, 80.122) -> (-81.865, 80.122)
  line L18 (-81.865, 80.122) -> (-81.865, 67.122)
  line L19 (-81.865, 86.576) -> (-68.865, 86.576)
  line L20 (-68.865, 86.576) -> (-68.865, 99.576)
  line L21 (-68.865, 99.576) -> (-81.865, 99.576)
  line L22 (-81.865, 99.576) -> (-81.865, 86.576)
  line L23 (-81.865, 106.03) -> (-68.865, 106.03)
  line L24 (-68.865, 106.03) -> (-68.865, 119.03)
  line L25 (-68.865, 119.03) -> (-81.865, 119.03)
  line L26 (-81.865, 119.03) -> (-81.865, 106.03)
  line L27 (-66.3, 124.74) -> (-84.43, 124.74) projected
  line L28 (-36.515, 67.122) -> (-49.515, 67.122) projected
  line L29 (-49.515, 60.668) -> (-36.515, 60.668) projected
  point P0 (0, 0)
  point P1 (-75.365, 3.05)
  point P2 (-75.365, 8.76)
  point P3 (-75.365, 124.74)
  point P4 (-75.365, 99.576)
  point P5 (-75.365, 86.576)
  point P6 (-75.365, 47.668)
  dimension "d139" = 13
  dimension "d140" = 13
  dimension "d141" = 2.565
  dimension "d142" = 2.565
  dimension "d143" = 5.71
  dimension "d144" = 13
  dimension "d145" = 13
  dimension "d146" = 13
  dimension "d147" = 13
  dimension "d148" = 13
  dimension "d149" = 13
  dimension "d150" = 5.71
  dimension "d151" = 6.454
  dimension "d152" = 6.454
  dimension "d153" = 6.454
  dimension "d154" = 6.454
  dimension "d155" = 6.454
  dimension "d156" = 6.454
extrude "Extrusion6" cut sketch "Sketch7" against normal blind 20 contours L3 L2 L1 L0 | L10 L9 L8 L7 | L14 L13 L12 L11 | L18 L17 L16 L15 | L22 L21 L20 L19 | L26 L25 L24 L23
chamfer "Chamfer8" distance 2 distance2 10 24 edges at (-81.865, 30, -15.26) (-75.365, 30, -8.76) (-68.865, 30, -15.26) (-75.365, 30, -21.76) (-75.365, 30, -28.214) (-81.865, 30, -34.714) (-75.365, 30, -41.214) (-68.865, 30, -34.714) (-75.365, 30, -47.668) (-81.865, 30, -54.168) (-75.365, 30, -60.668) (-68.865, 30, -54.168) (-75.365, 30, -67.122) (-81.865, 30, -73.622) (-75.365, 30, -80.122) (-68.865, 30, -73.622) (-75.365, 30, -86.576) (-81.865, 30, -93.076) (-75.365, 30, -99.576) (-68.865, 30, -93.076) (-68.865, 30, -112.53) (-75.365, 30, -106.03) (-81.865, 30, -112.53) (-75.365, 30, -119.03) measured on face at (-83.575, 30, -75.7887)
properties part number "cuvettestorage3_6x3"
